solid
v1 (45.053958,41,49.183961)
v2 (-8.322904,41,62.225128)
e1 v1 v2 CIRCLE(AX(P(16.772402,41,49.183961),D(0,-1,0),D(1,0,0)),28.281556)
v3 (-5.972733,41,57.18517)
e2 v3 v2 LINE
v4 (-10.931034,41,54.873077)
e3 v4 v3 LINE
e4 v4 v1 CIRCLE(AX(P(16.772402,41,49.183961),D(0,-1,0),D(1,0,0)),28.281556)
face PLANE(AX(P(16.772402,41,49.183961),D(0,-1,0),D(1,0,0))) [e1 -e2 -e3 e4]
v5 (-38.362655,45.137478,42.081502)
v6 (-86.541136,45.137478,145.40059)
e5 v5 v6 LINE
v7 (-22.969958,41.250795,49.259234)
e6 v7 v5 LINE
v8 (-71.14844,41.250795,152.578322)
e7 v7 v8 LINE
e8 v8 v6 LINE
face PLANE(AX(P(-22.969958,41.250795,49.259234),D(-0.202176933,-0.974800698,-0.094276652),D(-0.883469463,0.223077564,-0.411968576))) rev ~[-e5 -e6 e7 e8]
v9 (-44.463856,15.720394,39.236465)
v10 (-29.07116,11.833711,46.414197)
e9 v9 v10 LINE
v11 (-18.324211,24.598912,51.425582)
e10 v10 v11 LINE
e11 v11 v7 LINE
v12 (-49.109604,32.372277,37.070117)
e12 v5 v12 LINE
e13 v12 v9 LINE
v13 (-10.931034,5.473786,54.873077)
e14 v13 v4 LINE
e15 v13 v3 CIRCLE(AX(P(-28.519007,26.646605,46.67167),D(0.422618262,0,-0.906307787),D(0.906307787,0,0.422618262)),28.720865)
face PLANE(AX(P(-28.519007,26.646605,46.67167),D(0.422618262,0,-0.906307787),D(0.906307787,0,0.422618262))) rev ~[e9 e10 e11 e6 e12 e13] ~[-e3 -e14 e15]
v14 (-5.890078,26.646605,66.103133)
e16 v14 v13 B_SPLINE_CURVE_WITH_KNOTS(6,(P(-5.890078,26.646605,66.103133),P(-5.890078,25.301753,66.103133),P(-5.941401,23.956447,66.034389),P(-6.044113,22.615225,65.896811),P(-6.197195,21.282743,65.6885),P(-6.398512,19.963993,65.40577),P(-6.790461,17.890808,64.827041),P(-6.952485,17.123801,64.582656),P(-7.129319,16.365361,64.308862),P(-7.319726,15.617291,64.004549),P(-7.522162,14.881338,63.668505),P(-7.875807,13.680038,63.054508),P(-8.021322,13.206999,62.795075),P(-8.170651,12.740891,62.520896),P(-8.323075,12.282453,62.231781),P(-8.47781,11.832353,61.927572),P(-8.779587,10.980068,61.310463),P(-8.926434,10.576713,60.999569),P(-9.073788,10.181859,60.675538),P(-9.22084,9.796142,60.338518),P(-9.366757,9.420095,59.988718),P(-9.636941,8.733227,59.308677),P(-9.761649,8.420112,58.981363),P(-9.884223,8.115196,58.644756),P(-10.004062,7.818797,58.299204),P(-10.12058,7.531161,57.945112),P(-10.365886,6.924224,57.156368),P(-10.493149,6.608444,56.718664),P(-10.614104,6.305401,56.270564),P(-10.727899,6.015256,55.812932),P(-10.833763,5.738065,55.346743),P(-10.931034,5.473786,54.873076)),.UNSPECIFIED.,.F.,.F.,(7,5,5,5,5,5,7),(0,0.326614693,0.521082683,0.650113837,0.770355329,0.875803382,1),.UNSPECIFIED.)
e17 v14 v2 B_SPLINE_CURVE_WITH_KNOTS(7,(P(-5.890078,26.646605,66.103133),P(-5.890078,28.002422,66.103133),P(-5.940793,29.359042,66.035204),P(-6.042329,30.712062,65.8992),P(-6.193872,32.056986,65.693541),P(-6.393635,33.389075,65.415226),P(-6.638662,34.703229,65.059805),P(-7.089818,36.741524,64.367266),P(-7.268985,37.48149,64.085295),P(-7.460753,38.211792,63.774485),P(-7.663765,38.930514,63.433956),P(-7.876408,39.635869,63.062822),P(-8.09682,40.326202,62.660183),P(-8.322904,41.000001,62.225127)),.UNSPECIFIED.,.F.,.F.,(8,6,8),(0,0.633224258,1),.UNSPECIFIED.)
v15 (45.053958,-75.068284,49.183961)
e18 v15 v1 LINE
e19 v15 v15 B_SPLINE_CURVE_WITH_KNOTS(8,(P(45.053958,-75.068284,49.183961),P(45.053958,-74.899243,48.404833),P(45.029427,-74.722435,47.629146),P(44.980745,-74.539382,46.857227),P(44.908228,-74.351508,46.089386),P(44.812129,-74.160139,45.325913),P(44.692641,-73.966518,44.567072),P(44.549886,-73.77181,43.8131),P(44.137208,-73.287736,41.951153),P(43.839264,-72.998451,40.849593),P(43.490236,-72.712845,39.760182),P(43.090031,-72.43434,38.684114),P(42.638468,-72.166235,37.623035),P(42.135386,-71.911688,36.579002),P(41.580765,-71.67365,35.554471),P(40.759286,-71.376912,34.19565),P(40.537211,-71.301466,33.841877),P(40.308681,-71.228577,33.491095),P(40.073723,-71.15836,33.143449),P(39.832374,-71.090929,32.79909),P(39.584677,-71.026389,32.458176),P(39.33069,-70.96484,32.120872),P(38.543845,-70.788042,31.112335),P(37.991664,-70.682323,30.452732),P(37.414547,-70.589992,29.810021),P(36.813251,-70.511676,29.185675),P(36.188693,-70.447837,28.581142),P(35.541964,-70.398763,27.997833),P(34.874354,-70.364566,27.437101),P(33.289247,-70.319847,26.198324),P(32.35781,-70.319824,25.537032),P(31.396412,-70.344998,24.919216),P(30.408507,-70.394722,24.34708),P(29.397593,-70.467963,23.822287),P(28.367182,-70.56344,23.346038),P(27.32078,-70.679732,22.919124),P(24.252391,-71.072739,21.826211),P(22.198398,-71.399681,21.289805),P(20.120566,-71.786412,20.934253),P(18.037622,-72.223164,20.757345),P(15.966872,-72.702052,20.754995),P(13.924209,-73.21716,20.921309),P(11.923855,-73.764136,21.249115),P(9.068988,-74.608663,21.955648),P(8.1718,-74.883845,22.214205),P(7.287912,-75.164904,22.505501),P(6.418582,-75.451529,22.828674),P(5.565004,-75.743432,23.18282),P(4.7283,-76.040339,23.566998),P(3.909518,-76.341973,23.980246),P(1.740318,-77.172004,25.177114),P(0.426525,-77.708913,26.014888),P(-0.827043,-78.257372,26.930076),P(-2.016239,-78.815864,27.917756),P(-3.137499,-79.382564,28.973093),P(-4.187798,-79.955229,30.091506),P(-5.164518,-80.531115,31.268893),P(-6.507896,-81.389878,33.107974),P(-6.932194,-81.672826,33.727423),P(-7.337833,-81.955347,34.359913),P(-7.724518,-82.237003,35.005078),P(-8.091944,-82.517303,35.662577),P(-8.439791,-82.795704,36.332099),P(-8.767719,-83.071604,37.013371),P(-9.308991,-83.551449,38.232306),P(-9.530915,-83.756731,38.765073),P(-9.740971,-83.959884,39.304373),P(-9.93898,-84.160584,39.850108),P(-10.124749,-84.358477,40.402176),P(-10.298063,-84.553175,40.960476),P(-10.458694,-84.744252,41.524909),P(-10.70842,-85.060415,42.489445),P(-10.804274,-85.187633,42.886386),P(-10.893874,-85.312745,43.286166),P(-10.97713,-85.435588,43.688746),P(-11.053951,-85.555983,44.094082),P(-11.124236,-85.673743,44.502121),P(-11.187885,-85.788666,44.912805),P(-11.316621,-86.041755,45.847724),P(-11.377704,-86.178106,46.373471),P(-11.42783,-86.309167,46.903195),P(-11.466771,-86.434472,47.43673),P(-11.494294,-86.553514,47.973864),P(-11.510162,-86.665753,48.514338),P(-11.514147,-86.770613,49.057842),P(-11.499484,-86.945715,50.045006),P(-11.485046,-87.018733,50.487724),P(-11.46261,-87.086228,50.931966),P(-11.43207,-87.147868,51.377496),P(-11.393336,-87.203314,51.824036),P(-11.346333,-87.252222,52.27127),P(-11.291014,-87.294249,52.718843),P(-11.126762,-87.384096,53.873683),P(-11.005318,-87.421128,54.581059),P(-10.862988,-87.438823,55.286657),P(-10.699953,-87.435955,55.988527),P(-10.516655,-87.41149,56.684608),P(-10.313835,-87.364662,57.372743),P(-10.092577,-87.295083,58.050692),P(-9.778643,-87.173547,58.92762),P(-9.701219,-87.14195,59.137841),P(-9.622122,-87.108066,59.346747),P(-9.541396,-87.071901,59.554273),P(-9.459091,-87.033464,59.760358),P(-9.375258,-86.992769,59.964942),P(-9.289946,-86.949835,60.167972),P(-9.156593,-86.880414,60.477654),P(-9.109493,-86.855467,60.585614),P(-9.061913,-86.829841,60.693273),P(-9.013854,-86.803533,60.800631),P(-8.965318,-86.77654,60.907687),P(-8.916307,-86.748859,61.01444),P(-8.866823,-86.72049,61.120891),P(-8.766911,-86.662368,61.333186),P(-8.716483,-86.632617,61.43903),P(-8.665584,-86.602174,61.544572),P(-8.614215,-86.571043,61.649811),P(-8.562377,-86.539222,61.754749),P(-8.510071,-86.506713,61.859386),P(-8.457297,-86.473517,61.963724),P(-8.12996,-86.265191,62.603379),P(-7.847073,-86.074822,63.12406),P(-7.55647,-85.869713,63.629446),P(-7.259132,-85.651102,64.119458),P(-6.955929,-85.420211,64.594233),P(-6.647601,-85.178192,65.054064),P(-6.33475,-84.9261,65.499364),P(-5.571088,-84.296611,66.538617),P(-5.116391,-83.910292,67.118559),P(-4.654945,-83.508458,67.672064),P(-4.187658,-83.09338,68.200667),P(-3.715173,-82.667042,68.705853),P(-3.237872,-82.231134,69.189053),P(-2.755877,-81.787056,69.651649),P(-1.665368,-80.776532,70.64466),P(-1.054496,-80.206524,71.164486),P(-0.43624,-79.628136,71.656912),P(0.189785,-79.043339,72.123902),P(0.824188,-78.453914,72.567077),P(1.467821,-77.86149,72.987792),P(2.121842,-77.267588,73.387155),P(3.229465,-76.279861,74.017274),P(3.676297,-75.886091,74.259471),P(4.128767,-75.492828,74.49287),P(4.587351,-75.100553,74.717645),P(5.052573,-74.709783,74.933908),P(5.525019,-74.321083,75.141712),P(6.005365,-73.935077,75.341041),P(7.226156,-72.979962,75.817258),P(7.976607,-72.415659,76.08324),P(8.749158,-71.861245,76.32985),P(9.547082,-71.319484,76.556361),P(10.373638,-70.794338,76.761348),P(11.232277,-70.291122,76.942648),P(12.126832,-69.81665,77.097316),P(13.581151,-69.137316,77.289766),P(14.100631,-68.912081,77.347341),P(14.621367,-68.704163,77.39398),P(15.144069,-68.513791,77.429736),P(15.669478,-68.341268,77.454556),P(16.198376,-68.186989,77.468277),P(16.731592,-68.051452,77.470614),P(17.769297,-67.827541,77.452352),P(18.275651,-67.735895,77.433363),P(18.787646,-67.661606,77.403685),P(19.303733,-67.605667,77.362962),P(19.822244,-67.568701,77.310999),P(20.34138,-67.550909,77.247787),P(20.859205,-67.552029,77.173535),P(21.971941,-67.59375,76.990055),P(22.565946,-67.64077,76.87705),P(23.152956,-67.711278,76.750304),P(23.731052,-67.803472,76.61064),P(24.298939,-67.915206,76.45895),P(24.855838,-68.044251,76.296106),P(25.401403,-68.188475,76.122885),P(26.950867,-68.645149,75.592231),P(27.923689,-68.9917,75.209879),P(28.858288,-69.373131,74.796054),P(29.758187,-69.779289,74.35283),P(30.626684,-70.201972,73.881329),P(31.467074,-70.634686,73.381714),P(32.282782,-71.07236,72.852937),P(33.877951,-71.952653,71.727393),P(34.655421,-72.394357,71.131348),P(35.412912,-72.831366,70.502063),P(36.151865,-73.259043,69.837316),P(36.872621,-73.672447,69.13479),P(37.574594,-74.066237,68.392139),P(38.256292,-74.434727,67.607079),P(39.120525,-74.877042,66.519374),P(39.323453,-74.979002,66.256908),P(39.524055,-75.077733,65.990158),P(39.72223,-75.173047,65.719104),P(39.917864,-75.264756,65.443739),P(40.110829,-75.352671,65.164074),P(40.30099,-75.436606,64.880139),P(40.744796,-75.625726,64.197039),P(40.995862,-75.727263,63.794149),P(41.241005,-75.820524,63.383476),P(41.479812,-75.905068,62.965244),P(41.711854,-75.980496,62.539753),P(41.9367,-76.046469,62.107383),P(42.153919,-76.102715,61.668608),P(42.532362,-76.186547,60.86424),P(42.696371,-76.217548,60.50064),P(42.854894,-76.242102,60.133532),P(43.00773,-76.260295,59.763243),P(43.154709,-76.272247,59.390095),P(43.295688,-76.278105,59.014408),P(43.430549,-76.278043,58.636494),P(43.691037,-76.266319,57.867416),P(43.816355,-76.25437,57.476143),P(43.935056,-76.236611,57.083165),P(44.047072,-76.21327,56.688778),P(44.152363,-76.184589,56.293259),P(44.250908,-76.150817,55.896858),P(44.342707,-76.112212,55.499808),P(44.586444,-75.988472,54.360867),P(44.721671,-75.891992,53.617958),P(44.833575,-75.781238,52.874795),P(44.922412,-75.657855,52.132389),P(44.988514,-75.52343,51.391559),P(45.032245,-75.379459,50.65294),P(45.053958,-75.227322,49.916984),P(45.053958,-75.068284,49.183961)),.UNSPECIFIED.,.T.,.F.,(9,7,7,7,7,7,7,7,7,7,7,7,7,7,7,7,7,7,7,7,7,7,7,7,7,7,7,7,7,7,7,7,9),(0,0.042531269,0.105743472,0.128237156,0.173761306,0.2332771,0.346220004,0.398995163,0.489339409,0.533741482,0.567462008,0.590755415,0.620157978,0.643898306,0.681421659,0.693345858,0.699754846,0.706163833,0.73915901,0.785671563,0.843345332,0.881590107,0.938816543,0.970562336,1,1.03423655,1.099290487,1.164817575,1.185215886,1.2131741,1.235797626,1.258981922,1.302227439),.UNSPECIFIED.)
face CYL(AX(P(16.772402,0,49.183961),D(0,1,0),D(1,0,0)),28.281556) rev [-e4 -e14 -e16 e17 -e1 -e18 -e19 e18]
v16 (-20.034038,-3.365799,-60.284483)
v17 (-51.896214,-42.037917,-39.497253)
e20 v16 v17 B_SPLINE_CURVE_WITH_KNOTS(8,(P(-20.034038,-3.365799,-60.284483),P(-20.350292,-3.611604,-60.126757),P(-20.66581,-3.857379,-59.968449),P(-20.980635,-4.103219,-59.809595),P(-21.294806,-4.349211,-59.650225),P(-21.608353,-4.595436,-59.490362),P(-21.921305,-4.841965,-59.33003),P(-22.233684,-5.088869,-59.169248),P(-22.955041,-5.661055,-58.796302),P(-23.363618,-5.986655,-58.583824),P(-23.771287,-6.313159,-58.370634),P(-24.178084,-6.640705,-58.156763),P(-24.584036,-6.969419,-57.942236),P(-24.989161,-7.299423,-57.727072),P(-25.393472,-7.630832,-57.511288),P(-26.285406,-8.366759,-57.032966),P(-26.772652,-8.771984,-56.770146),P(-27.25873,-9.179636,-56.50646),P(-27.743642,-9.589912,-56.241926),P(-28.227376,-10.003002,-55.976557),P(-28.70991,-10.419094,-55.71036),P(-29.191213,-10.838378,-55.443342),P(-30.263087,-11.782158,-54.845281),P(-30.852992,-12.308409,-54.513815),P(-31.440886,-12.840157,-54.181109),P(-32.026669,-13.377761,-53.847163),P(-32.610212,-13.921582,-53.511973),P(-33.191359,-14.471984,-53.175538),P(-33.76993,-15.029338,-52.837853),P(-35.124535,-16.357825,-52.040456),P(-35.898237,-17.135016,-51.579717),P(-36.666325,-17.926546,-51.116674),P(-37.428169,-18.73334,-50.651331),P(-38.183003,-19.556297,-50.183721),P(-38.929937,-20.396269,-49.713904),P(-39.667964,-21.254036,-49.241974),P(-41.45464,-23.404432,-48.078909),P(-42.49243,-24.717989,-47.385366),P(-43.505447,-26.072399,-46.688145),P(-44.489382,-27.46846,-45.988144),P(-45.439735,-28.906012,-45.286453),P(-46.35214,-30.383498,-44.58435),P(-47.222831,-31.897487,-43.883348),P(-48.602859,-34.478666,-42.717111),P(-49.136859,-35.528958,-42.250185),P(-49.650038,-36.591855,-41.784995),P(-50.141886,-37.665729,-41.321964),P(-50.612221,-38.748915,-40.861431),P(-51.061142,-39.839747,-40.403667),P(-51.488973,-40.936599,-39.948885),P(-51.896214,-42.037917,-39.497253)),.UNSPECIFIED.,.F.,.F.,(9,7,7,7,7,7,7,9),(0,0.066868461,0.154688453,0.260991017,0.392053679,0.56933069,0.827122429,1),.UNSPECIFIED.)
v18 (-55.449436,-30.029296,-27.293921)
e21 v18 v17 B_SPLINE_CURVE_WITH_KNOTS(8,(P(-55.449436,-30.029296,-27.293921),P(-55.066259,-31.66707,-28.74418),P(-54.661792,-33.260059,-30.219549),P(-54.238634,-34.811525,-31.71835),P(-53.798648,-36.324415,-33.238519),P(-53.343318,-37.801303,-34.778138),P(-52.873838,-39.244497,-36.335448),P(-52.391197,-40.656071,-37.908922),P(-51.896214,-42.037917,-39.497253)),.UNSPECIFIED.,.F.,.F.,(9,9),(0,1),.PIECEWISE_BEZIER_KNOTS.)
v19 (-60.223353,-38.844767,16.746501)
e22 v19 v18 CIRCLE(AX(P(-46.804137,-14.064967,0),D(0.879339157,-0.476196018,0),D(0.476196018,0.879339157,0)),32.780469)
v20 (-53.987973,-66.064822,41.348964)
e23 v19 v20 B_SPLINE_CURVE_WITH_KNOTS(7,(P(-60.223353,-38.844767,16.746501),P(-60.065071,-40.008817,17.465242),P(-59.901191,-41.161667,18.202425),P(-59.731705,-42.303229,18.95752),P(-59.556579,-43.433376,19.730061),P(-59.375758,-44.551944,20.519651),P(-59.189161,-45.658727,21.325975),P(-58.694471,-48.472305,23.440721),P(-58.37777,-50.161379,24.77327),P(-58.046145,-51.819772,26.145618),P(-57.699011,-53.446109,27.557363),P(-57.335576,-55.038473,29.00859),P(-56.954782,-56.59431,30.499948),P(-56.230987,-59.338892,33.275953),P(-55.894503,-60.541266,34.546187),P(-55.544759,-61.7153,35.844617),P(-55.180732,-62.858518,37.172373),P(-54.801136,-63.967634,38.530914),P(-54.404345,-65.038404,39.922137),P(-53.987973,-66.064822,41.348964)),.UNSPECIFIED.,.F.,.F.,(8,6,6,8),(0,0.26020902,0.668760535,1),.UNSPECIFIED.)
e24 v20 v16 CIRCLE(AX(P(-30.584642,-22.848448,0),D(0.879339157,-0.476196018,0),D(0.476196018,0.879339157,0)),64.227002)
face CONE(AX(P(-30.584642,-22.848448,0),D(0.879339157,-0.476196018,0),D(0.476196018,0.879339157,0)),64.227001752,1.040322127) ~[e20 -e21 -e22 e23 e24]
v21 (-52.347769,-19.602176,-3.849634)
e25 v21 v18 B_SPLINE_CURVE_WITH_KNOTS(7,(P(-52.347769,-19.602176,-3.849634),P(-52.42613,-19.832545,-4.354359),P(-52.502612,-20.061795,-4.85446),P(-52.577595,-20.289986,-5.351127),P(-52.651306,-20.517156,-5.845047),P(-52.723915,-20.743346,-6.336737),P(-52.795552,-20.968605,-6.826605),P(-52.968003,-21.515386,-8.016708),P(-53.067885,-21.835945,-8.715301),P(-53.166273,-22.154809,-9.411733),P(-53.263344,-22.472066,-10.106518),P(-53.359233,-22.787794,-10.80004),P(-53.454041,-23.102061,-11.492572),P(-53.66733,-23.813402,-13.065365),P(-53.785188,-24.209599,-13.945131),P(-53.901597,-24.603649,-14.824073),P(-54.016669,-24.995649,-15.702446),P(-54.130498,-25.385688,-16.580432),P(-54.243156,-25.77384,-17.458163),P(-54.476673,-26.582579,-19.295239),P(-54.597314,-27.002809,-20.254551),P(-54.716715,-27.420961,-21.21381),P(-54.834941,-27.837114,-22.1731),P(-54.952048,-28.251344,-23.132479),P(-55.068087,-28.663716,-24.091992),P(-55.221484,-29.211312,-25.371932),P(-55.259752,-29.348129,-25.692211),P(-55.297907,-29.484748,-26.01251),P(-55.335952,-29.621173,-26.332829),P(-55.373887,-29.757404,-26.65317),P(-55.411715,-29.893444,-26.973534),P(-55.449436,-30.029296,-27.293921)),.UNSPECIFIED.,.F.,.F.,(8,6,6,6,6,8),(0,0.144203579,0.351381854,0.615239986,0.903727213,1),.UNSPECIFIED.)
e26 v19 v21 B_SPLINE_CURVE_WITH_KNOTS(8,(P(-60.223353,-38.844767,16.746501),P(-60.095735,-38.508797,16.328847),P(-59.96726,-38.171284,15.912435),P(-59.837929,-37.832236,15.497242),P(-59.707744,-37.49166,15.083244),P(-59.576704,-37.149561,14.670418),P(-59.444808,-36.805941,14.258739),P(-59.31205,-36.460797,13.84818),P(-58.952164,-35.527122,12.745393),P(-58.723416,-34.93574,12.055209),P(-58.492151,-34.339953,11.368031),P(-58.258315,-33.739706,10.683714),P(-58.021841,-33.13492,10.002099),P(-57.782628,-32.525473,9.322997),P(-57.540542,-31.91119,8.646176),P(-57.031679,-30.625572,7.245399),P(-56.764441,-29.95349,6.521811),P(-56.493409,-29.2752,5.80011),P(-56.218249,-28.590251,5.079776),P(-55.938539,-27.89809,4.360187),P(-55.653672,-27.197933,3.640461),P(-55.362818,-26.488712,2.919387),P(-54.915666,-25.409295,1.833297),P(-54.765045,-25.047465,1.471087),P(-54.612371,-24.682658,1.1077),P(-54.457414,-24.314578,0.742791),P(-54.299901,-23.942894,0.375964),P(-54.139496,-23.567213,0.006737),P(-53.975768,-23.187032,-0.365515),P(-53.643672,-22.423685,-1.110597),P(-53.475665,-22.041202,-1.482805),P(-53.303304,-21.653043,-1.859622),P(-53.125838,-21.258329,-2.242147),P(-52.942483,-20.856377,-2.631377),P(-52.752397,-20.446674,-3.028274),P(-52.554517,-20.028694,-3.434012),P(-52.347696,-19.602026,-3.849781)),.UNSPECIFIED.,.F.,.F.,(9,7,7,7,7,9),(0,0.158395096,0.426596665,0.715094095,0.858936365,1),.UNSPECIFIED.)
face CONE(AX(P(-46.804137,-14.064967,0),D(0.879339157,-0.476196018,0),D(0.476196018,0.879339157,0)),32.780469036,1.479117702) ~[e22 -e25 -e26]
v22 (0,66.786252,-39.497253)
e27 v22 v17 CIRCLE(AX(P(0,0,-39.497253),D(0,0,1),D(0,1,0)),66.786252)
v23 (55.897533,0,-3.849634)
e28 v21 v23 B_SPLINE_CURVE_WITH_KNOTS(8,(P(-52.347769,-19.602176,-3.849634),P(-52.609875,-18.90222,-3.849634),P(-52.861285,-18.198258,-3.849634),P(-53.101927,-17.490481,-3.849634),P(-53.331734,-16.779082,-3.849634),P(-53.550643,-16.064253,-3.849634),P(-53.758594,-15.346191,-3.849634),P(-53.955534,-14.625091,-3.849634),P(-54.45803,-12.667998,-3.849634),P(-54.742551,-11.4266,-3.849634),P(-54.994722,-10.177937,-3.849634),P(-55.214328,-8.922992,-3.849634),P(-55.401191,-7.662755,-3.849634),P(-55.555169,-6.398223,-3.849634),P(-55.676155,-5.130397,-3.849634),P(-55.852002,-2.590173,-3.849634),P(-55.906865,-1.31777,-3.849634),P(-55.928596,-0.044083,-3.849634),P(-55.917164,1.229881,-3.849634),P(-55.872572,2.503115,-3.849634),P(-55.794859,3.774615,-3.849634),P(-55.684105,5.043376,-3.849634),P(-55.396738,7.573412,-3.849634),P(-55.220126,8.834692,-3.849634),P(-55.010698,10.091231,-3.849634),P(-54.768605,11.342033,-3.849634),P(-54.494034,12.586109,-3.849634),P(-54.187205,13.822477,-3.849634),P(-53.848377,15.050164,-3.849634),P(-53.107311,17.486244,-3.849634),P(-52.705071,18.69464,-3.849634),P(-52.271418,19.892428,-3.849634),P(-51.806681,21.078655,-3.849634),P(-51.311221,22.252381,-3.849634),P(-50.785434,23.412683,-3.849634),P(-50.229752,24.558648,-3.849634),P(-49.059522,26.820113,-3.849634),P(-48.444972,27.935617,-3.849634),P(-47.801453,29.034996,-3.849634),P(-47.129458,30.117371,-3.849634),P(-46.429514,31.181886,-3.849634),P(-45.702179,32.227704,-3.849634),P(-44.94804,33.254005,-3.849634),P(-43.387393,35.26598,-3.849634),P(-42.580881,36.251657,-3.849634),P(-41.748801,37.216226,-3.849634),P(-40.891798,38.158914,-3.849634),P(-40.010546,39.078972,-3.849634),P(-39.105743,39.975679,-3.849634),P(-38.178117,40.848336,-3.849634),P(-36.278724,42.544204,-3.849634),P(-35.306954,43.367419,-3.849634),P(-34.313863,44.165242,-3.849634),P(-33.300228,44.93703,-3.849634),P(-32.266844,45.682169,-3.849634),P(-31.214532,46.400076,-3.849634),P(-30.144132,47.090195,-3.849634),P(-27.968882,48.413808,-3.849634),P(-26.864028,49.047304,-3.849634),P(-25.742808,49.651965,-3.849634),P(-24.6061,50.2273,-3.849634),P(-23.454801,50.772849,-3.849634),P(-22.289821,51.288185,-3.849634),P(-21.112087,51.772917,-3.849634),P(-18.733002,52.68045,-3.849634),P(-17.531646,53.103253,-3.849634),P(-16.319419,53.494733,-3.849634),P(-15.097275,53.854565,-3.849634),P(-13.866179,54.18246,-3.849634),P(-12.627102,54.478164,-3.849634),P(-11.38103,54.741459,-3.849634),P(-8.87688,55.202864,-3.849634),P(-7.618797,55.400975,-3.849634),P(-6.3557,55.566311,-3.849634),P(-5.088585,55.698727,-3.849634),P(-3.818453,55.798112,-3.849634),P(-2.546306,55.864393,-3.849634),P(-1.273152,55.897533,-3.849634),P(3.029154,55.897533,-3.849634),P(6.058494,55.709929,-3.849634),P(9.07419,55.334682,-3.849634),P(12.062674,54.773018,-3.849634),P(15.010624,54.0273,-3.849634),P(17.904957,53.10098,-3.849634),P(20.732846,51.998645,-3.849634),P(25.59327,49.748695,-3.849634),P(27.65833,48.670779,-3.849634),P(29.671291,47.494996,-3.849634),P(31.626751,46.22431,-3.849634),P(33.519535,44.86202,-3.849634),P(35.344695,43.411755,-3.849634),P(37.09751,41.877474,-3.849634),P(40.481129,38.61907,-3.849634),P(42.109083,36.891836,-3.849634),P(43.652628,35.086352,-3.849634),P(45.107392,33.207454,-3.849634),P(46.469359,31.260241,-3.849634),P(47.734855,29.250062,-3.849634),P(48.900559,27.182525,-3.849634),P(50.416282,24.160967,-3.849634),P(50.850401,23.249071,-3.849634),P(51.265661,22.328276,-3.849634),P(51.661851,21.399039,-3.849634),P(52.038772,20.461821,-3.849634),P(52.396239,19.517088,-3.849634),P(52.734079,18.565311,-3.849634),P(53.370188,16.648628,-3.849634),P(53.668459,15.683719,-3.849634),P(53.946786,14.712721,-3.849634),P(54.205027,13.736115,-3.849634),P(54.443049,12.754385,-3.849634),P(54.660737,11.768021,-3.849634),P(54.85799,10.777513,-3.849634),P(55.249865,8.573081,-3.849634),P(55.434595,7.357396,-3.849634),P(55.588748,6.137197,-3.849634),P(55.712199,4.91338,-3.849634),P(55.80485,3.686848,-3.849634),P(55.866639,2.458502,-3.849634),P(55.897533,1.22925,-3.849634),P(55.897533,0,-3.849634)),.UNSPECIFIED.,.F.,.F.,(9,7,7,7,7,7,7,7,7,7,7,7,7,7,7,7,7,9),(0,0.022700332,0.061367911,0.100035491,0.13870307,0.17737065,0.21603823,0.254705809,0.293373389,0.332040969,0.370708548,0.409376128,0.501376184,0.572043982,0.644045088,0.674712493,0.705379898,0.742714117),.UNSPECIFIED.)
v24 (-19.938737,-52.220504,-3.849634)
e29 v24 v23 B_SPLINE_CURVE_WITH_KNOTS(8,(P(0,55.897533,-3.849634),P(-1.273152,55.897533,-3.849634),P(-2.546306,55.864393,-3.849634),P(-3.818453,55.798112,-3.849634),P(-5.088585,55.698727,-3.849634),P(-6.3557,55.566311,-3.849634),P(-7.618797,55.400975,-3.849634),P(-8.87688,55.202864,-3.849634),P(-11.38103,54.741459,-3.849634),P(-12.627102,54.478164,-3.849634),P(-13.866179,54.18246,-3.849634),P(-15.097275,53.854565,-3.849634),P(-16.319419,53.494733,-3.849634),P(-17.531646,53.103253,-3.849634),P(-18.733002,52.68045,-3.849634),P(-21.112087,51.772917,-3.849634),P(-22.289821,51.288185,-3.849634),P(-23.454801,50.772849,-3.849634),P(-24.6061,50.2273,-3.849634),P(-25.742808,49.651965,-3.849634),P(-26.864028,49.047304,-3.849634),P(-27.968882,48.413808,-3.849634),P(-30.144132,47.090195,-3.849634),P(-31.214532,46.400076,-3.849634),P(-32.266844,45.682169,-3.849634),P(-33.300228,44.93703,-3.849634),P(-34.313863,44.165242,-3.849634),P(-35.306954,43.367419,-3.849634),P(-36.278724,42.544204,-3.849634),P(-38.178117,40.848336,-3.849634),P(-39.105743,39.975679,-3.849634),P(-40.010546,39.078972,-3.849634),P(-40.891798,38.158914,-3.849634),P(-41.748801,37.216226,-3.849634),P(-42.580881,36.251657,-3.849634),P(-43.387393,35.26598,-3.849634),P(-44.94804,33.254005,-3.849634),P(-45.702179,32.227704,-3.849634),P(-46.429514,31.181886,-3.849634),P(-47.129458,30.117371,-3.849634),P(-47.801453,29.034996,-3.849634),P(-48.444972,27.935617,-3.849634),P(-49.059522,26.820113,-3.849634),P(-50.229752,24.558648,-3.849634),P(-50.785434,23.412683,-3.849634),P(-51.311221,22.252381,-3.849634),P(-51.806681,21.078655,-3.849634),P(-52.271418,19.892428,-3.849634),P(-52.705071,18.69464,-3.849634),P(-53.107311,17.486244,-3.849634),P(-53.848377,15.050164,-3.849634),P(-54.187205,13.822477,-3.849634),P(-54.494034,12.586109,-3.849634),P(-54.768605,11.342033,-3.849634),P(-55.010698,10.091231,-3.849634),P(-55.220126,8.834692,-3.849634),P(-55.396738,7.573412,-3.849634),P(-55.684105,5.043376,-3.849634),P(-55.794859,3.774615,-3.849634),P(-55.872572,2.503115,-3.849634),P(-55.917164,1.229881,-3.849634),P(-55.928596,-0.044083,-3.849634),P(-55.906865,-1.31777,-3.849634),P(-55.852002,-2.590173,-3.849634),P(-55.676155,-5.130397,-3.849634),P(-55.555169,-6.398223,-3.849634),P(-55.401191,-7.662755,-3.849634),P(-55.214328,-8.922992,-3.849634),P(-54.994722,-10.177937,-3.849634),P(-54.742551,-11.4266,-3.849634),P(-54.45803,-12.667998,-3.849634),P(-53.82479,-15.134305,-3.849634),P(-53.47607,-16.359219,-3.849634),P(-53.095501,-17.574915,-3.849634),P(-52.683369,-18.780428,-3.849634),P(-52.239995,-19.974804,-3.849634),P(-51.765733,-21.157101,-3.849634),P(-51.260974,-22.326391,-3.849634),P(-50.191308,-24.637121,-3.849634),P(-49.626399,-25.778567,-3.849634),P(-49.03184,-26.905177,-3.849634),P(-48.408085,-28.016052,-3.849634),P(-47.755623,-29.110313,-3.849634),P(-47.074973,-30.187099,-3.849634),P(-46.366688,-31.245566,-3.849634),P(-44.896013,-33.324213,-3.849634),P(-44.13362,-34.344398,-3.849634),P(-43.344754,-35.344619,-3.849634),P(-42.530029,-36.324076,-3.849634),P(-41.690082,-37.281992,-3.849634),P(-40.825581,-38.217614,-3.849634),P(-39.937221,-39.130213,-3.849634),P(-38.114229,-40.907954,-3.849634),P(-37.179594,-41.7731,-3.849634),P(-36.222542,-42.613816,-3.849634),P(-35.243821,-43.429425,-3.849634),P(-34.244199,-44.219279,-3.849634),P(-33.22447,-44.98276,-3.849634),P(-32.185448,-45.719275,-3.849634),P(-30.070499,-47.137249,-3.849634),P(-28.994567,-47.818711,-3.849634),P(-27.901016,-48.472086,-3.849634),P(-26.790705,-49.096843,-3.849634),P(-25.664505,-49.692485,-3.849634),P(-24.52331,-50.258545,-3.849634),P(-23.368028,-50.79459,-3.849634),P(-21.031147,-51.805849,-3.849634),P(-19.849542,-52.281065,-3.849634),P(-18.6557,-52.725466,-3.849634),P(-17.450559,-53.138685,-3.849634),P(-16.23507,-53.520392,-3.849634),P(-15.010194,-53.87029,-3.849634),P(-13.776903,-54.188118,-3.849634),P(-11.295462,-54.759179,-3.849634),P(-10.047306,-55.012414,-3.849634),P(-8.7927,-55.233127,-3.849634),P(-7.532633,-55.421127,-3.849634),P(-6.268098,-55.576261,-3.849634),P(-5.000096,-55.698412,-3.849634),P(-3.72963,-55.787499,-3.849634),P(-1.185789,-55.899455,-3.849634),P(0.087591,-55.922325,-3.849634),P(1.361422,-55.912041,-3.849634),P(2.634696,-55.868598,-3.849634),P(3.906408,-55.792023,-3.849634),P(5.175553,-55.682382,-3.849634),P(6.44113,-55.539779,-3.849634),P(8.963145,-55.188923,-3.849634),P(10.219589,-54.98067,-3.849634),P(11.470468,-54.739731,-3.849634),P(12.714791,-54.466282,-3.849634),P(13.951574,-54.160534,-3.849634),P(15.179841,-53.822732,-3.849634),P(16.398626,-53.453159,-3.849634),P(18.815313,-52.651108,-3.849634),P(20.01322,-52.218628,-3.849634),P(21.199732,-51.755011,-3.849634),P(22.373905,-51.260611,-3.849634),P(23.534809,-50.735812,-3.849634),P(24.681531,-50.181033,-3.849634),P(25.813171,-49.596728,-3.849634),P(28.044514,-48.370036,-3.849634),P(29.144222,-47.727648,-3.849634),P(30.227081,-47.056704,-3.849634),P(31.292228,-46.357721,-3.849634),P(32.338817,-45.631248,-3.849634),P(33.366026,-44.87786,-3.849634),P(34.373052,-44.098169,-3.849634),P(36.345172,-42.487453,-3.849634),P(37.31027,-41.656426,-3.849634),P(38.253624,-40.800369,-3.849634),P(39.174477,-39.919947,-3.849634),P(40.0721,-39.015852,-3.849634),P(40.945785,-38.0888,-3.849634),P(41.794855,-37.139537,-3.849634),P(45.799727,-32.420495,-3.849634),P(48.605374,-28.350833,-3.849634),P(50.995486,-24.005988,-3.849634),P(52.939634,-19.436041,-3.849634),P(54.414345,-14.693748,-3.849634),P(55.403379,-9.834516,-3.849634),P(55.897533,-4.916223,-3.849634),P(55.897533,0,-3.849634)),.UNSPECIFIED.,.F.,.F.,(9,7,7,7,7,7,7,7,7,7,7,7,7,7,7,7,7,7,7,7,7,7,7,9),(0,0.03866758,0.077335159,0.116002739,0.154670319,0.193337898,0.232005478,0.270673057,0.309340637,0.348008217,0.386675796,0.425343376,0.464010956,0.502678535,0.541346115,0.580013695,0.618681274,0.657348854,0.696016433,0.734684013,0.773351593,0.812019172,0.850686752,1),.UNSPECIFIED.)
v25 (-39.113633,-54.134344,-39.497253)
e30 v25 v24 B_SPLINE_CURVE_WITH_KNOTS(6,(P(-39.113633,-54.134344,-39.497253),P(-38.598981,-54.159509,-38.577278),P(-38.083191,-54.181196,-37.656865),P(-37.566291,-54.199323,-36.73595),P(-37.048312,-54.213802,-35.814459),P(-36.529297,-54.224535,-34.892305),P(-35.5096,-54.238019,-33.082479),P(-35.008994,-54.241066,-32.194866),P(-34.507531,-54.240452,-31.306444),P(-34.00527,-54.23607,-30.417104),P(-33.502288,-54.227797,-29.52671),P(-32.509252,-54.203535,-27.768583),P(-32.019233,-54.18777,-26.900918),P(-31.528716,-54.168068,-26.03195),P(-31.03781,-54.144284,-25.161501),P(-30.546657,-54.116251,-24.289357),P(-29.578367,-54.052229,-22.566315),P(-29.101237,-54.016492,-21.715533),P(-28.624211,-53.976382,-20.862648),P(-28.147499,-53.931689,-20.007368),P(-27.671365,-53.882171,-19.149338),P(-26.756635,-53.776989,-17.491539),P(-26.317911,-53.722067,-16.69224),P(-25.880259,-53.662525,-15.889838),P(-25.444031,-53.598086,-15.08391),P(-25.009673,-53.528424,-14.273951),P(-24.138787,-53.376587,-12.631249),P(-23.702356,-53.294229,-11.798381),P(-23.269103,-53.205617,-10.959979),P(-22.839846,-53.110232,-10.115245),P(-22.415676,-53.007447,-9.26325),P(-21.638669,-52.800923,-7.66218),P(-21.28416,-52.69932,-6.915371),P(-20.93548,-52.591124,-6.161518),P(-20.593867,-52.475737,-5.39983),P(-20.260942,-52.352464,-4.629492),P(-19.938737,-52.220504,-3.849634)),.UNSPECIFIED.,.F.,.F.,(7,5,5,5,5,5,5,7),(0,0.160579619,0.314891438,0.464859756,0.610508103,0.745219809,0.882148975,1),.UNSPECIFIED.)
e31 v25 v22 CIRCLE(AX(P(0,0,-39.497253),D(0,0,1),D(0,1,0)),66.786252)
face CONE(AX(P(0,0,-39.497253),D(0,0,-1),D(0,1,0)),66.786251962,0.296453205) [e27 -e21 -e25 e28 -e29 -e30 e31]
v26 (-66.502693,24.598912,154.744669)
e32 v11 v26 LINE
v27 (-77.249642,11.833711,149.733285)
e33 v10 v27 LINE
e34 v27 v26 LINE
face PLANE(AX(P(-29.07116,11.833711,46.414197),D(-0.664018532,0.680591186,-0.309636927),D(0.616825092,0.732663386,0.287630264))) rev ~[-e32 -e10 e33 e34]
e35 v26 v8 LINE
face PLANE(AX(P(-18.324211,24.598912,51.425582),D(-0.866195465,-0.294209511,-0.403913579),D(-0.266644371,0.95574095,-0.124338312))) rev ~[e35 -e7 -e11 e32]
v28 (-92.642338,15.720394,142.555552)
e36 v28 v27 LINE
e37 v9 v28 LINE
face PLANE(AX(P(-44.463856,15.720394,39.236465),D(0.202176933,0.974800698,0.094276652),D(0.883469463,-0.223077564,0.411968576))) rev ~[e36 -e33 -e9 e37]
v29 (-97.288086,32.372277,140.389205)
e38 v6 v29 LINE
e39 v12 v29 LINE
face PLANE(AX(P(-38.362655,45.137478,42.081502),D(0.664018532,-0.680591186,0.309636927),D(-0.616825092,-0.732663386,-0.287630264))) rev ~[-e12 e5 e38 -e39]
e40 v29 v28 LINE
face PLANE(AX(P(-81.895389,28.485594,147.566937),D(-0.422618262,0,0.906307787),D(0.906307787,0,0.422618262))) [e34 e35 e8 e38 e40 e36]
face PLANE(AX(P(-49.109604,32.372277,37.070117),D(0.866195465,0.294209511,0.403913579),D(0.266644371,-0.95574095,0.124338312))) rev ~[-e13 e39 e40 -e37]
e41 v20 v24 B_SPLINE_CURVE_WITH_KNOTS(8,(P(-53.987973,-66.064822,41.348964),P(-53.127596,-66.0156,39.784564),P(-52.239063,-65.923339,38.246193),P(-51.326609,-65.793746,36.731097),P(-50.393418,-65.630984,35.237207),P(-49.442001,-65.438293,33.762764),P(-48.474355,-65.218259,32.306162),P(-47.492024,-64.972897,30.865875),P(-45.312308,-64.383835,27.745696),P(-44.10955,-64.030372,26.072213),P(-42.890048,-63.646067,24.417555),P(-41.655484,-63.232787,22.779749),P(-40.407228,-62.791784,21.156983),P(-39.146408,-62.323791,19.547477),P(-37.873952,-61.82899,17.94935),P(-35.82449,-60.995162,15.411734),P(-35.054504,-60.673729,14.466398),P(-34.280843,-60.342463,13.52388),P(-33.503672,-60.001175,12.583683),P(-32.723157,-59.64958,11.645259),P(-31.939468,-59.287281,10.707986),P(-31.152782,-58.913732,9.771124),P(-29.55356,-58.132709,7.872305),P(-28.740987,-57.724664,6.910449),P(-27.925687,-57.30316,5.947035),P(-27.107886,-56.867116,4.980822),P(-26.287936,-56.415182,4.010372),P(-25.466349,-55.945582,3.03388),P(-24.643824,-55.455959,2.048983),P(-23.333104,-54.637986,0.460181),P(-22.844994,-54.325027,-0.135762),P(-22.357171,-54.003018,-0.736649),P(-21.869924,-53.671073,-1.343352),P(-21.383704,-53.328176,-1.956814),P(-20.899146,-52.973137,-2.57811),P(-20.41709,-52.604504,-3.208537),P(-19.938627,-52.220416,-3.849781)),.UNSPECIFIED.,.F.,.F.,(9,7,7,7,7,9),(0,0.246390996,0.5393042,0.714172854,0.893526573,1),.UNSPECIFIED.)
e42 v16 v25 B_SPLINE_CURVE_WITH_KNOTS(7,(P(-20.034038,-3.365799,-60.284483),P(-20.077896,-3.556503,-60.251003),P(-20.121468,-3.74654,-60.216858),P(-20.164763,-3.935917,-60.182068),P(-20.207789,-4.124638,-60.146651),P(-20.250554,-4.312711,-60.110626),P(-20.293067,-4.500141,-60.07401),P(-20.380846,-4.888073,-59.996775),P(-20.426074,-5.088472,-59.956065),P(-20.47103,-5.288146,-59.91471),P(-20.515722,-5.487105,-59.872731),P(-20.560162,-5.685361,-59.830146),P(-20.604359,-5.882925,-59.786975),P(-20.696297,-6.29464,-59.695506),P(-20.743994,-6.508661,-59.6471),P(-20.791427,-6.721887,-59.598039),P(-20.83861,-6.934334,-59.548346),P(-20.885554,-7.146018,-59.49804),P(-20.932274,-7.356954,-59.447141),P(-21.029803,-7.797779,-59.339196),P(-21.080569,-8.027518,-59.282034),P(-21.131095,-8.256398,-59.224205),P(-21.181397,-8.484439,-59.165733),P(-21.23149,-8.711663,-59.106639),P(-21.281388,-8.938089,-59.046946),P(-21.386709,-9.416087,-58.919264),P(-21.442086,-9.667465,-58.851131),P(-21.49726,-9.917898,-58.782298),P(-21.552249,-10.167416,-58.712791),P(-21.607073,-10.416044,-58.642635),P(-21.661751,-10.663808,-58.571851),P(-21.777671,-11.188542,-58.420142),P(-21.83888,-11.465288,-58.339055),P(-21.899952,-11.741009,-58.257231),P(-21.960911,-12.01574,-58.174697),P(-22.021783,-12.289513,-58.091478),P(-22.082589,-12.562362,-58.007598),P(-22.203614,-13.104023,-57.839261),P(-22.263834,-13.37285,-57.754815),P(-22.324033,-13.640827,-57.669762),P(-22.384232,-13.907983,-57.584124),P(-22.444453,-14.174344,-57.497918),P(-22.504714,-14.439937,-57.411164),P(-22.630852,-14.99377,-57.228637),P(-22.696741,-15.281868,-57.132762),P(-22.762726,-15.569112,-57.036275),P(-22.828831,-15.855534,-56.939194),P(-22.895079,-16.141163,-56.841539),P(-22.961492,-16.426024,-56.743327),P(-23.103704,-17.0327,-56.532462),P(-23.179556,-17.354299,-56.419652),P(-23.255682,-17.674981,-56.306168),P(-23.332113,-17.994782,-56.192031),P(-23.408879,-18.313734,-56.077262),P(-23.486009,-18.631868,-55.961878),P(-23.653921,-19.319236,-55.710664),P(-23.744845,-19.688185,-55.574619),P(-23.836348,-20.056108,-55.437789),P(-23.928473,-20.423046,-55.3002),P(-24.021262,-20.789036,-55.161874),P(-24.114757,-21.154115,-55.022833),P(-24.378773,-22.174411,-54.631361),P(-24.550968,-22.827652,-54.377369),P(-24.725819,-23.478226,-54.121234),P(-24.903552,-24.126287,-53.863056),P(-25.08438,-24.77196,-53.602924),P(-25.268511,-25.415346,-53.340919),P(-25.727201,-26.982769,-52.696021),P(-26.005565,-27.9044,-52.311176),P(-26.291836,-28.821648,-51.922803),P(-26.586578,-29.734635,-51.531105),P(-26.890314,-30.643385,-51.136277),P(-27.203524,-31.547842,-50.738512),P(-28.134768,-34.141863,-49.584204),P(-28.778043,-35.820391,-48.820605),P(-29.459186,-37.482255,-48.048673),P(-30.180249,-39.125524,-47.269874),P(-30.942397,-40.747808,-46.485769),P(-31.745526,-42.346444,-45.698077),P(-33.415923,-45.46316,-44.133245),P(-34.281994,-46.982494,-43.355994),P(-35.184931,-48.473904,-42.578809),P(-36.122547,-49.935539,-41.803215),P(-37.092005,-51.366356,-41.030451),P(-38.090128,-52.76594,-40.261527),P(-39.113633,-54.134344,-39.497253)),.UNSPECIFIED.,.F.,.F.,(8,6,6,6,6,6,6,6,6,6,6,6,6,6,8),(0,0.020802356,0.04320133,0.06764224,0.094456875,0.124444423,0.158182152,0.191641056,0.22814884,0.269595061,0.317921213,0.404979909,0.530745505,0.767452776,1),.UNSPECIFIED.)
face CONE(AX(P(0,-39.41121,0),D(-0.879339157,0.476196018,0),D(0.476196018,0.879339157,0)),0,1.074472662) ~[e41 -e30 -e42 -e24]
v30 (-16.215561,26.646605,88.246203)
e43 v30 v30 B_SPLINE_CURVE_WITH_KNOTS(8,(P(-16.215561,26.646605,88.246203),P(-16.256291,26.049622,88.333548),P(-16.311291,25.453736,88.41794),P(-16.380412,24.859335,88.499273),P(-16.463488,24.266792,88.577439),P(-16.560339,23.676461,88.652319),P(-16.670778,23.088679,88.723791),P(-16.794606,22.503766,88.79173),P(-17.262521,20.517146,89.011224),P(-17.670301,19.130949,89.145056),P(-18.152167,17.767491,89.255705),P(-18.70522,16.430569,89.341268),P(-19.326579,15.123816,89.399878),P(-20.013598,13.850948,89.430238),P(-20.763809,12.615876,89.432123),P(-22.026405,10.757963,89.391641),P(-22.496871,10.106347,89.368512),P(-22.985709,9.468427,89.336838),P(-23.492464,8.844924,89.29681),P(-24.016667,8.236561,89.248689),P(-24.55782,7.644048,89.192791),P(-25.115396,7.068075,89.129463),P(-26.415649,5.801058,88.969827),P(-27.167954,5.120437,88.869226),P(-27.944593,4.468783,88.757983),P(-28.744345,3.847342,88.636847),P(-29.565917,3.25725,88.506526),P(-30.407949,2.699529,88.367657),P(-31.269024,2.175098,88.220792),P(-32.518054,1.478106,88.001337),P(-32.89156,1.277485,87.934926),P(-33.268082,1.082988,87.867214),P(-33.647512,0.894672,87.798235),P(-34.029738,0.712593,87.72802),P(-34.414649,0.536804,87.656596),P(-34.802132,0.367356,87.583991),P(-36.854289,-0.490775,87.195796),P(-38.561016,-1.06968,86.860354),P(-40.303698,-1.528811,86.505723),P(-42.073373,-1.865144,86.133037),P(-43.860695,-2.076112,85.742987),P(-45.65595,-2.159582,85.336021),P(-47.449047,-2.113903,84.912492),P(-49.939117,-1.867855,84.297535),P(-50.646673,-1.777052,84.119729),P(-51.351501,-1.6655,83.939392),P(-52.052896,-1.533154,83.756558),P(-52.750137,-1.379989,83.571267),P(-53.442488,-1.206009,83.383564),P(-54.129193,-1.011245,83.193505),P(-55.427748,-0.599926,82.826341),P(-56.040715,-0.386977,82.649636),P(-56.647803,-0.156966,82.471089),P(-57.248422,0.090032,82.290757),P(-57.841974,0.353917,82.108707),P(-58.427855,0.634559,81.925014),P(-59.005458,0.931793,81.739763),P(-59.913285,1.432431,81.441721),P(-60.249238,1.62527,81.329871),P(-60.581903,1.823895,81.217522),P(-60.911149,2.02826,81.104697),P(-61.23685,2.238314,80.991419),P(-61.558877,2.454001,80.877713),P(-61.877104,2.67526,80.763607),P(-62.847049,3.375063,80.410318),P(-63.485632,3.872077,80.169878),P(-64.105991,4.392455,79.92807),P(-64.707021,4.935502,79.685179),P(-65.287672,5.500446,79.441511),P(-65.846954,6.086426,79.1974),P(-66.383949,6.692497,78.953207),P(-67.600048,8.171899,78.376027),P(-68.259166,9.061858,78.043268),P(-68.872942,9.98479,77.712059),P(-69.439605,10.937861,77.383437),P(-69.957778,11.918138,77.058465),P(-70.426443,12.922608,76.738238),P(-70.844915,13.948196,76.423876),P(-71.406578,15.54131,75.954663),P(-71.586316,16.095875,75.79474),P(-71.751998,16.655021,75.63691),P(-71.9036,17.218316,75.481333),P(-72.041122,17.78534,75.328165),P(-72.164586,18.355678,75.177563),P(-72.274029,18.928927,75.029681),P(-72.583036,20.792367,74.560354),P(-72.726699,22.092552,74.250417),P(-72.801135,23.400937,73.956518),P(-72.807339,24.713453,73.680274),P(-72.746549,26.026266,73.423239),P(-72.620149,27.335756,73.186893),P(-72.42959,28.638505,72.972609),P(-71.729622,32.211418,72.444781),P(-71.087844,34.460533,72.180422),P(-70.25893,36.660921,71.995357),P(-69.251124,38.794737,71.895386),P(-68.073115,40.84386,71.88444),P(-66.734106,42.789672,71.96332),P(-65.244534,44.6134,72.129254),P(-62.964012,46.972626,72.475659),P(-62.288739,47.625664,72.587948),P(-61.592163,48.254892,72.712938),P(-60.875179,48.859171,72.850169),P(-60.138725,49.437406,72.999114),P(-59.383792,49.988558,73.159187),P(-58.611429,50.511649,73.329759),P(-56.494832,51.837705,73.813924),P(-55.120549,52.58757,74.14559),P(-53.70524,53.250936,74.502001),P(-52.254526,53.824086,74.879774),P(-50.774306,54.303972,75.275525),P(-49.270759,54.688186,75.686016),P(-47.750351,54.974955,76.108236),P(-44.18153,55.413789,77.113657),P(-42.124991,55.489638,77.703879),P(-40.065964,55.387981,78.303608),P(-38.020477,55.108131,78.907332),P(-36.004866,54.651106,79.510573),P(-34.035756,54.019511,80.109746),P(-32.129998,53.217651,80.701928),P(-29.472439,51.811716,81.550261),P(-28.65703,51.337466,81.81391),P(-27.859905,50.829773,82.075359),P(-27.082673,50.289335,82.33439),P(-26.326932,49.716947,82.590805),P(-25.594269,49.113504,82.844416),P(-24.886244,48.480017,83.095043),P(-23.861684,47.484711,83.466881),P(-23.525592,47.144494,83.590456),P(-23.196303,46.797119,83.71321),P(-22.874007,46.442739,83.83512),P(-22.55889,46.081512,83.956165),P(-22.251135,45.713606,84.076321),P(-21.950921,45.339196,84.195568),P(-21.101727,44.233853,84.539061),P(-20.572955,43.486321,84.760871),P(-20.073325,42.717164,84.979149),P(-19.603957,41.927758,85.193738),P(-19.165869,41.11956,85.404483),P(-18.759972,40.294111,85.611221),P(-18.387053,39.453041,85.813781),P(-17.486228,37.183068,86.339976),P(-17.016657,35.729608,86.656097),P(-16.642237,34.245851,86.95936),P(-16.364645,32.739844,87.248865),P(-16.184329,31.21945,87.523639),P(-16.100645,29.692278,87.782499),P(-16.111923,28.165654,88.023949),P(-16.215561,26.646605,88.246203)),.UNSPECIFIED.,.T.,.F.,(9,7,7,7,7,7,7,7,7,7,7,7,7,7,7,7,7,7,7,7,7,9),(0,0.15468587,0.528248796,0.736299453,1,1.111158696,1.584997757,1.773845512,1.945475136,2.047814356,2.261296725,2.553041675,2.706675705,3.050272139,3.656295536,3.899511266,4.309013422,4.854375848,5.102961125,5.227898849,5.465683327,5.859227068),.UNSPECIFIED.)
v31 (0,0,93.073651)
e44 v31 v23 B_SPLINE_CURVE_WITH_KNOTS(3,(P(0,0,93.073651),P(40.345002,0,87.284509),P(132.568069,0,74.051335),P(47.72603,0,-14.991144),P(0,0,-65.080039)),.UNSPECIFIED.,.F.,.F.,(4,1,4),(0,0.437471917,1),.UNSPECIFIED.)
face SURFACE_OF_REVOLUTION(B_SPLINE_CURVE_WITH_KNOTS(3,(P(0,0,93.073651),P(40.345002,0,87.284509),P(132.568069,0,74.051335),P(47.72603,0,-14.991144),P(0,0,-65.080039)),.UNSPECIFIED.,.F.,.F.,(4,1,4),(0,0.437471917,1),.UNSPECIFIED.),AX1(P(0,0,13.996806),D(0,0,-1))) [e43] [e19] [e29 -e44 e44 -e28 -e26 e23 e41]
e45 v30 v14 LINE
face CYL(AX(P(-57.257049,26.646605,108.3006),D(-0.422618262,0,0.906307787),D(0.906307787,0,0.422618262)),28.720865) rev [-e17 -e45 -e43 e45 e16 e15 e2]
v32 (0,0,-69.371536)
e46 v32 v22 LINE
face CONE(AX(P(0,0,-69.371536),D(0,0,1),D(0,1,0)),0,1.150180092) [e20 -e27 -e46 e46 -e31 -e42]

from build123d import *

# Parameters (mm, degrees)
F6_R          = 28.2815558262
F7_DEPTH      = 134
F7_DEPTH_BACK = 41
F11_R         = 28.7208654688
F12_DEPTH     = 68
F14_DEPTH     = 114


with BuildPart() as f1:
    # F0 (on Front) → F1 (revolve)
    with BuildSketch(Plane.XZ):
        with BuildLine():
            add(Edge.make_bspline(
                [(0, 93.0736511946), (40.3450018431, 87.2845091525), (132.5680686127, 74.0513350616), (47.726029558, -14.9911441163), (0, -65.0800392032)],
                knots=[0, 0, 0, 0, 0.4374719173, 1, 1, 1, 1], degree=3))
            Line((0, 93.0736511946), (0, -65.0800392032))
        make_face()
    revolve(axis=Axis((0, 0, 13.9968059957), (0, 0, -1)))

    # F2 (on Right) → F3 (revolve)
    with BuildSketch(Plane.YZ):
        Polygon((0, 27.1453838795), (0, -69.3715363741), (66.7862519622, -39.4972525537), (54.7216460109, 0), align=None)
    revolve(axis=Axis((0, 0, -21.1130762473), (0, 0, 1)))

    # F4 (on Top) → F5 (revolve)
    with BuildSketch(Plane.XY):
        Polygon((-49.454215914, -12.6298470423), (0, -39.4112095237), (0, 33.6288698018), (-31.1942081898, 14.7601831704), align=None)
    revolve(axis=Axis((-24.727107957, -26.020528283, 0), (0.8793391566, -0.4761960181, 0)))

    # F6 (on Front) → F7 (cut, two sides)
    with BuildSketch(Plane.XZ) as f7_sk:
        with Locations((16.7724017654, 49.1839607516)):
            Circle(F6_R)
    extrude(amount=F7_DEPTH, mode=Mode.SUBTRACT)
    extrude(f7_sk.sketch, amount=-F7_DEPTH_BACK, mode=Mode.SUBTRACT)

    # F11 (on line) → F12 (cut)
    with BuildSketch(Plane(origin=(-51.7079999105, 0, 110.8881636538), x_dir=(0.906307787, 0, 0.4226182617), z_dir=(0.4226182617, 0, -0.906307787))):
        with Locations((-6.1226980752, -26.6466047069)):
            Circle(F11_R)
    extrude(amount=F12_DEPTH, mode=Mode.SUBTRACT)

    # F13 (on face) → F14 (join)
    with BuildSketch(Plane(origin=(-22.9699581122, 0, 49.2592341353), x_dir=(0.906307787, 0, 0.4226182617), z_dir=(-0.4226182617, 0, 0.906307787))):
        Polygon((5.126014983, 24.5989118996), (0, 41.250795126), (-16.9839613864, 45.1374775436), (-28.8419077897, 32.372276735), (-23.7158928066, 15.7203935087), (-6.7319314203, 11.833711091), align=None)
    extrude(amount=F14_DEPTH)


solid = f1.part
